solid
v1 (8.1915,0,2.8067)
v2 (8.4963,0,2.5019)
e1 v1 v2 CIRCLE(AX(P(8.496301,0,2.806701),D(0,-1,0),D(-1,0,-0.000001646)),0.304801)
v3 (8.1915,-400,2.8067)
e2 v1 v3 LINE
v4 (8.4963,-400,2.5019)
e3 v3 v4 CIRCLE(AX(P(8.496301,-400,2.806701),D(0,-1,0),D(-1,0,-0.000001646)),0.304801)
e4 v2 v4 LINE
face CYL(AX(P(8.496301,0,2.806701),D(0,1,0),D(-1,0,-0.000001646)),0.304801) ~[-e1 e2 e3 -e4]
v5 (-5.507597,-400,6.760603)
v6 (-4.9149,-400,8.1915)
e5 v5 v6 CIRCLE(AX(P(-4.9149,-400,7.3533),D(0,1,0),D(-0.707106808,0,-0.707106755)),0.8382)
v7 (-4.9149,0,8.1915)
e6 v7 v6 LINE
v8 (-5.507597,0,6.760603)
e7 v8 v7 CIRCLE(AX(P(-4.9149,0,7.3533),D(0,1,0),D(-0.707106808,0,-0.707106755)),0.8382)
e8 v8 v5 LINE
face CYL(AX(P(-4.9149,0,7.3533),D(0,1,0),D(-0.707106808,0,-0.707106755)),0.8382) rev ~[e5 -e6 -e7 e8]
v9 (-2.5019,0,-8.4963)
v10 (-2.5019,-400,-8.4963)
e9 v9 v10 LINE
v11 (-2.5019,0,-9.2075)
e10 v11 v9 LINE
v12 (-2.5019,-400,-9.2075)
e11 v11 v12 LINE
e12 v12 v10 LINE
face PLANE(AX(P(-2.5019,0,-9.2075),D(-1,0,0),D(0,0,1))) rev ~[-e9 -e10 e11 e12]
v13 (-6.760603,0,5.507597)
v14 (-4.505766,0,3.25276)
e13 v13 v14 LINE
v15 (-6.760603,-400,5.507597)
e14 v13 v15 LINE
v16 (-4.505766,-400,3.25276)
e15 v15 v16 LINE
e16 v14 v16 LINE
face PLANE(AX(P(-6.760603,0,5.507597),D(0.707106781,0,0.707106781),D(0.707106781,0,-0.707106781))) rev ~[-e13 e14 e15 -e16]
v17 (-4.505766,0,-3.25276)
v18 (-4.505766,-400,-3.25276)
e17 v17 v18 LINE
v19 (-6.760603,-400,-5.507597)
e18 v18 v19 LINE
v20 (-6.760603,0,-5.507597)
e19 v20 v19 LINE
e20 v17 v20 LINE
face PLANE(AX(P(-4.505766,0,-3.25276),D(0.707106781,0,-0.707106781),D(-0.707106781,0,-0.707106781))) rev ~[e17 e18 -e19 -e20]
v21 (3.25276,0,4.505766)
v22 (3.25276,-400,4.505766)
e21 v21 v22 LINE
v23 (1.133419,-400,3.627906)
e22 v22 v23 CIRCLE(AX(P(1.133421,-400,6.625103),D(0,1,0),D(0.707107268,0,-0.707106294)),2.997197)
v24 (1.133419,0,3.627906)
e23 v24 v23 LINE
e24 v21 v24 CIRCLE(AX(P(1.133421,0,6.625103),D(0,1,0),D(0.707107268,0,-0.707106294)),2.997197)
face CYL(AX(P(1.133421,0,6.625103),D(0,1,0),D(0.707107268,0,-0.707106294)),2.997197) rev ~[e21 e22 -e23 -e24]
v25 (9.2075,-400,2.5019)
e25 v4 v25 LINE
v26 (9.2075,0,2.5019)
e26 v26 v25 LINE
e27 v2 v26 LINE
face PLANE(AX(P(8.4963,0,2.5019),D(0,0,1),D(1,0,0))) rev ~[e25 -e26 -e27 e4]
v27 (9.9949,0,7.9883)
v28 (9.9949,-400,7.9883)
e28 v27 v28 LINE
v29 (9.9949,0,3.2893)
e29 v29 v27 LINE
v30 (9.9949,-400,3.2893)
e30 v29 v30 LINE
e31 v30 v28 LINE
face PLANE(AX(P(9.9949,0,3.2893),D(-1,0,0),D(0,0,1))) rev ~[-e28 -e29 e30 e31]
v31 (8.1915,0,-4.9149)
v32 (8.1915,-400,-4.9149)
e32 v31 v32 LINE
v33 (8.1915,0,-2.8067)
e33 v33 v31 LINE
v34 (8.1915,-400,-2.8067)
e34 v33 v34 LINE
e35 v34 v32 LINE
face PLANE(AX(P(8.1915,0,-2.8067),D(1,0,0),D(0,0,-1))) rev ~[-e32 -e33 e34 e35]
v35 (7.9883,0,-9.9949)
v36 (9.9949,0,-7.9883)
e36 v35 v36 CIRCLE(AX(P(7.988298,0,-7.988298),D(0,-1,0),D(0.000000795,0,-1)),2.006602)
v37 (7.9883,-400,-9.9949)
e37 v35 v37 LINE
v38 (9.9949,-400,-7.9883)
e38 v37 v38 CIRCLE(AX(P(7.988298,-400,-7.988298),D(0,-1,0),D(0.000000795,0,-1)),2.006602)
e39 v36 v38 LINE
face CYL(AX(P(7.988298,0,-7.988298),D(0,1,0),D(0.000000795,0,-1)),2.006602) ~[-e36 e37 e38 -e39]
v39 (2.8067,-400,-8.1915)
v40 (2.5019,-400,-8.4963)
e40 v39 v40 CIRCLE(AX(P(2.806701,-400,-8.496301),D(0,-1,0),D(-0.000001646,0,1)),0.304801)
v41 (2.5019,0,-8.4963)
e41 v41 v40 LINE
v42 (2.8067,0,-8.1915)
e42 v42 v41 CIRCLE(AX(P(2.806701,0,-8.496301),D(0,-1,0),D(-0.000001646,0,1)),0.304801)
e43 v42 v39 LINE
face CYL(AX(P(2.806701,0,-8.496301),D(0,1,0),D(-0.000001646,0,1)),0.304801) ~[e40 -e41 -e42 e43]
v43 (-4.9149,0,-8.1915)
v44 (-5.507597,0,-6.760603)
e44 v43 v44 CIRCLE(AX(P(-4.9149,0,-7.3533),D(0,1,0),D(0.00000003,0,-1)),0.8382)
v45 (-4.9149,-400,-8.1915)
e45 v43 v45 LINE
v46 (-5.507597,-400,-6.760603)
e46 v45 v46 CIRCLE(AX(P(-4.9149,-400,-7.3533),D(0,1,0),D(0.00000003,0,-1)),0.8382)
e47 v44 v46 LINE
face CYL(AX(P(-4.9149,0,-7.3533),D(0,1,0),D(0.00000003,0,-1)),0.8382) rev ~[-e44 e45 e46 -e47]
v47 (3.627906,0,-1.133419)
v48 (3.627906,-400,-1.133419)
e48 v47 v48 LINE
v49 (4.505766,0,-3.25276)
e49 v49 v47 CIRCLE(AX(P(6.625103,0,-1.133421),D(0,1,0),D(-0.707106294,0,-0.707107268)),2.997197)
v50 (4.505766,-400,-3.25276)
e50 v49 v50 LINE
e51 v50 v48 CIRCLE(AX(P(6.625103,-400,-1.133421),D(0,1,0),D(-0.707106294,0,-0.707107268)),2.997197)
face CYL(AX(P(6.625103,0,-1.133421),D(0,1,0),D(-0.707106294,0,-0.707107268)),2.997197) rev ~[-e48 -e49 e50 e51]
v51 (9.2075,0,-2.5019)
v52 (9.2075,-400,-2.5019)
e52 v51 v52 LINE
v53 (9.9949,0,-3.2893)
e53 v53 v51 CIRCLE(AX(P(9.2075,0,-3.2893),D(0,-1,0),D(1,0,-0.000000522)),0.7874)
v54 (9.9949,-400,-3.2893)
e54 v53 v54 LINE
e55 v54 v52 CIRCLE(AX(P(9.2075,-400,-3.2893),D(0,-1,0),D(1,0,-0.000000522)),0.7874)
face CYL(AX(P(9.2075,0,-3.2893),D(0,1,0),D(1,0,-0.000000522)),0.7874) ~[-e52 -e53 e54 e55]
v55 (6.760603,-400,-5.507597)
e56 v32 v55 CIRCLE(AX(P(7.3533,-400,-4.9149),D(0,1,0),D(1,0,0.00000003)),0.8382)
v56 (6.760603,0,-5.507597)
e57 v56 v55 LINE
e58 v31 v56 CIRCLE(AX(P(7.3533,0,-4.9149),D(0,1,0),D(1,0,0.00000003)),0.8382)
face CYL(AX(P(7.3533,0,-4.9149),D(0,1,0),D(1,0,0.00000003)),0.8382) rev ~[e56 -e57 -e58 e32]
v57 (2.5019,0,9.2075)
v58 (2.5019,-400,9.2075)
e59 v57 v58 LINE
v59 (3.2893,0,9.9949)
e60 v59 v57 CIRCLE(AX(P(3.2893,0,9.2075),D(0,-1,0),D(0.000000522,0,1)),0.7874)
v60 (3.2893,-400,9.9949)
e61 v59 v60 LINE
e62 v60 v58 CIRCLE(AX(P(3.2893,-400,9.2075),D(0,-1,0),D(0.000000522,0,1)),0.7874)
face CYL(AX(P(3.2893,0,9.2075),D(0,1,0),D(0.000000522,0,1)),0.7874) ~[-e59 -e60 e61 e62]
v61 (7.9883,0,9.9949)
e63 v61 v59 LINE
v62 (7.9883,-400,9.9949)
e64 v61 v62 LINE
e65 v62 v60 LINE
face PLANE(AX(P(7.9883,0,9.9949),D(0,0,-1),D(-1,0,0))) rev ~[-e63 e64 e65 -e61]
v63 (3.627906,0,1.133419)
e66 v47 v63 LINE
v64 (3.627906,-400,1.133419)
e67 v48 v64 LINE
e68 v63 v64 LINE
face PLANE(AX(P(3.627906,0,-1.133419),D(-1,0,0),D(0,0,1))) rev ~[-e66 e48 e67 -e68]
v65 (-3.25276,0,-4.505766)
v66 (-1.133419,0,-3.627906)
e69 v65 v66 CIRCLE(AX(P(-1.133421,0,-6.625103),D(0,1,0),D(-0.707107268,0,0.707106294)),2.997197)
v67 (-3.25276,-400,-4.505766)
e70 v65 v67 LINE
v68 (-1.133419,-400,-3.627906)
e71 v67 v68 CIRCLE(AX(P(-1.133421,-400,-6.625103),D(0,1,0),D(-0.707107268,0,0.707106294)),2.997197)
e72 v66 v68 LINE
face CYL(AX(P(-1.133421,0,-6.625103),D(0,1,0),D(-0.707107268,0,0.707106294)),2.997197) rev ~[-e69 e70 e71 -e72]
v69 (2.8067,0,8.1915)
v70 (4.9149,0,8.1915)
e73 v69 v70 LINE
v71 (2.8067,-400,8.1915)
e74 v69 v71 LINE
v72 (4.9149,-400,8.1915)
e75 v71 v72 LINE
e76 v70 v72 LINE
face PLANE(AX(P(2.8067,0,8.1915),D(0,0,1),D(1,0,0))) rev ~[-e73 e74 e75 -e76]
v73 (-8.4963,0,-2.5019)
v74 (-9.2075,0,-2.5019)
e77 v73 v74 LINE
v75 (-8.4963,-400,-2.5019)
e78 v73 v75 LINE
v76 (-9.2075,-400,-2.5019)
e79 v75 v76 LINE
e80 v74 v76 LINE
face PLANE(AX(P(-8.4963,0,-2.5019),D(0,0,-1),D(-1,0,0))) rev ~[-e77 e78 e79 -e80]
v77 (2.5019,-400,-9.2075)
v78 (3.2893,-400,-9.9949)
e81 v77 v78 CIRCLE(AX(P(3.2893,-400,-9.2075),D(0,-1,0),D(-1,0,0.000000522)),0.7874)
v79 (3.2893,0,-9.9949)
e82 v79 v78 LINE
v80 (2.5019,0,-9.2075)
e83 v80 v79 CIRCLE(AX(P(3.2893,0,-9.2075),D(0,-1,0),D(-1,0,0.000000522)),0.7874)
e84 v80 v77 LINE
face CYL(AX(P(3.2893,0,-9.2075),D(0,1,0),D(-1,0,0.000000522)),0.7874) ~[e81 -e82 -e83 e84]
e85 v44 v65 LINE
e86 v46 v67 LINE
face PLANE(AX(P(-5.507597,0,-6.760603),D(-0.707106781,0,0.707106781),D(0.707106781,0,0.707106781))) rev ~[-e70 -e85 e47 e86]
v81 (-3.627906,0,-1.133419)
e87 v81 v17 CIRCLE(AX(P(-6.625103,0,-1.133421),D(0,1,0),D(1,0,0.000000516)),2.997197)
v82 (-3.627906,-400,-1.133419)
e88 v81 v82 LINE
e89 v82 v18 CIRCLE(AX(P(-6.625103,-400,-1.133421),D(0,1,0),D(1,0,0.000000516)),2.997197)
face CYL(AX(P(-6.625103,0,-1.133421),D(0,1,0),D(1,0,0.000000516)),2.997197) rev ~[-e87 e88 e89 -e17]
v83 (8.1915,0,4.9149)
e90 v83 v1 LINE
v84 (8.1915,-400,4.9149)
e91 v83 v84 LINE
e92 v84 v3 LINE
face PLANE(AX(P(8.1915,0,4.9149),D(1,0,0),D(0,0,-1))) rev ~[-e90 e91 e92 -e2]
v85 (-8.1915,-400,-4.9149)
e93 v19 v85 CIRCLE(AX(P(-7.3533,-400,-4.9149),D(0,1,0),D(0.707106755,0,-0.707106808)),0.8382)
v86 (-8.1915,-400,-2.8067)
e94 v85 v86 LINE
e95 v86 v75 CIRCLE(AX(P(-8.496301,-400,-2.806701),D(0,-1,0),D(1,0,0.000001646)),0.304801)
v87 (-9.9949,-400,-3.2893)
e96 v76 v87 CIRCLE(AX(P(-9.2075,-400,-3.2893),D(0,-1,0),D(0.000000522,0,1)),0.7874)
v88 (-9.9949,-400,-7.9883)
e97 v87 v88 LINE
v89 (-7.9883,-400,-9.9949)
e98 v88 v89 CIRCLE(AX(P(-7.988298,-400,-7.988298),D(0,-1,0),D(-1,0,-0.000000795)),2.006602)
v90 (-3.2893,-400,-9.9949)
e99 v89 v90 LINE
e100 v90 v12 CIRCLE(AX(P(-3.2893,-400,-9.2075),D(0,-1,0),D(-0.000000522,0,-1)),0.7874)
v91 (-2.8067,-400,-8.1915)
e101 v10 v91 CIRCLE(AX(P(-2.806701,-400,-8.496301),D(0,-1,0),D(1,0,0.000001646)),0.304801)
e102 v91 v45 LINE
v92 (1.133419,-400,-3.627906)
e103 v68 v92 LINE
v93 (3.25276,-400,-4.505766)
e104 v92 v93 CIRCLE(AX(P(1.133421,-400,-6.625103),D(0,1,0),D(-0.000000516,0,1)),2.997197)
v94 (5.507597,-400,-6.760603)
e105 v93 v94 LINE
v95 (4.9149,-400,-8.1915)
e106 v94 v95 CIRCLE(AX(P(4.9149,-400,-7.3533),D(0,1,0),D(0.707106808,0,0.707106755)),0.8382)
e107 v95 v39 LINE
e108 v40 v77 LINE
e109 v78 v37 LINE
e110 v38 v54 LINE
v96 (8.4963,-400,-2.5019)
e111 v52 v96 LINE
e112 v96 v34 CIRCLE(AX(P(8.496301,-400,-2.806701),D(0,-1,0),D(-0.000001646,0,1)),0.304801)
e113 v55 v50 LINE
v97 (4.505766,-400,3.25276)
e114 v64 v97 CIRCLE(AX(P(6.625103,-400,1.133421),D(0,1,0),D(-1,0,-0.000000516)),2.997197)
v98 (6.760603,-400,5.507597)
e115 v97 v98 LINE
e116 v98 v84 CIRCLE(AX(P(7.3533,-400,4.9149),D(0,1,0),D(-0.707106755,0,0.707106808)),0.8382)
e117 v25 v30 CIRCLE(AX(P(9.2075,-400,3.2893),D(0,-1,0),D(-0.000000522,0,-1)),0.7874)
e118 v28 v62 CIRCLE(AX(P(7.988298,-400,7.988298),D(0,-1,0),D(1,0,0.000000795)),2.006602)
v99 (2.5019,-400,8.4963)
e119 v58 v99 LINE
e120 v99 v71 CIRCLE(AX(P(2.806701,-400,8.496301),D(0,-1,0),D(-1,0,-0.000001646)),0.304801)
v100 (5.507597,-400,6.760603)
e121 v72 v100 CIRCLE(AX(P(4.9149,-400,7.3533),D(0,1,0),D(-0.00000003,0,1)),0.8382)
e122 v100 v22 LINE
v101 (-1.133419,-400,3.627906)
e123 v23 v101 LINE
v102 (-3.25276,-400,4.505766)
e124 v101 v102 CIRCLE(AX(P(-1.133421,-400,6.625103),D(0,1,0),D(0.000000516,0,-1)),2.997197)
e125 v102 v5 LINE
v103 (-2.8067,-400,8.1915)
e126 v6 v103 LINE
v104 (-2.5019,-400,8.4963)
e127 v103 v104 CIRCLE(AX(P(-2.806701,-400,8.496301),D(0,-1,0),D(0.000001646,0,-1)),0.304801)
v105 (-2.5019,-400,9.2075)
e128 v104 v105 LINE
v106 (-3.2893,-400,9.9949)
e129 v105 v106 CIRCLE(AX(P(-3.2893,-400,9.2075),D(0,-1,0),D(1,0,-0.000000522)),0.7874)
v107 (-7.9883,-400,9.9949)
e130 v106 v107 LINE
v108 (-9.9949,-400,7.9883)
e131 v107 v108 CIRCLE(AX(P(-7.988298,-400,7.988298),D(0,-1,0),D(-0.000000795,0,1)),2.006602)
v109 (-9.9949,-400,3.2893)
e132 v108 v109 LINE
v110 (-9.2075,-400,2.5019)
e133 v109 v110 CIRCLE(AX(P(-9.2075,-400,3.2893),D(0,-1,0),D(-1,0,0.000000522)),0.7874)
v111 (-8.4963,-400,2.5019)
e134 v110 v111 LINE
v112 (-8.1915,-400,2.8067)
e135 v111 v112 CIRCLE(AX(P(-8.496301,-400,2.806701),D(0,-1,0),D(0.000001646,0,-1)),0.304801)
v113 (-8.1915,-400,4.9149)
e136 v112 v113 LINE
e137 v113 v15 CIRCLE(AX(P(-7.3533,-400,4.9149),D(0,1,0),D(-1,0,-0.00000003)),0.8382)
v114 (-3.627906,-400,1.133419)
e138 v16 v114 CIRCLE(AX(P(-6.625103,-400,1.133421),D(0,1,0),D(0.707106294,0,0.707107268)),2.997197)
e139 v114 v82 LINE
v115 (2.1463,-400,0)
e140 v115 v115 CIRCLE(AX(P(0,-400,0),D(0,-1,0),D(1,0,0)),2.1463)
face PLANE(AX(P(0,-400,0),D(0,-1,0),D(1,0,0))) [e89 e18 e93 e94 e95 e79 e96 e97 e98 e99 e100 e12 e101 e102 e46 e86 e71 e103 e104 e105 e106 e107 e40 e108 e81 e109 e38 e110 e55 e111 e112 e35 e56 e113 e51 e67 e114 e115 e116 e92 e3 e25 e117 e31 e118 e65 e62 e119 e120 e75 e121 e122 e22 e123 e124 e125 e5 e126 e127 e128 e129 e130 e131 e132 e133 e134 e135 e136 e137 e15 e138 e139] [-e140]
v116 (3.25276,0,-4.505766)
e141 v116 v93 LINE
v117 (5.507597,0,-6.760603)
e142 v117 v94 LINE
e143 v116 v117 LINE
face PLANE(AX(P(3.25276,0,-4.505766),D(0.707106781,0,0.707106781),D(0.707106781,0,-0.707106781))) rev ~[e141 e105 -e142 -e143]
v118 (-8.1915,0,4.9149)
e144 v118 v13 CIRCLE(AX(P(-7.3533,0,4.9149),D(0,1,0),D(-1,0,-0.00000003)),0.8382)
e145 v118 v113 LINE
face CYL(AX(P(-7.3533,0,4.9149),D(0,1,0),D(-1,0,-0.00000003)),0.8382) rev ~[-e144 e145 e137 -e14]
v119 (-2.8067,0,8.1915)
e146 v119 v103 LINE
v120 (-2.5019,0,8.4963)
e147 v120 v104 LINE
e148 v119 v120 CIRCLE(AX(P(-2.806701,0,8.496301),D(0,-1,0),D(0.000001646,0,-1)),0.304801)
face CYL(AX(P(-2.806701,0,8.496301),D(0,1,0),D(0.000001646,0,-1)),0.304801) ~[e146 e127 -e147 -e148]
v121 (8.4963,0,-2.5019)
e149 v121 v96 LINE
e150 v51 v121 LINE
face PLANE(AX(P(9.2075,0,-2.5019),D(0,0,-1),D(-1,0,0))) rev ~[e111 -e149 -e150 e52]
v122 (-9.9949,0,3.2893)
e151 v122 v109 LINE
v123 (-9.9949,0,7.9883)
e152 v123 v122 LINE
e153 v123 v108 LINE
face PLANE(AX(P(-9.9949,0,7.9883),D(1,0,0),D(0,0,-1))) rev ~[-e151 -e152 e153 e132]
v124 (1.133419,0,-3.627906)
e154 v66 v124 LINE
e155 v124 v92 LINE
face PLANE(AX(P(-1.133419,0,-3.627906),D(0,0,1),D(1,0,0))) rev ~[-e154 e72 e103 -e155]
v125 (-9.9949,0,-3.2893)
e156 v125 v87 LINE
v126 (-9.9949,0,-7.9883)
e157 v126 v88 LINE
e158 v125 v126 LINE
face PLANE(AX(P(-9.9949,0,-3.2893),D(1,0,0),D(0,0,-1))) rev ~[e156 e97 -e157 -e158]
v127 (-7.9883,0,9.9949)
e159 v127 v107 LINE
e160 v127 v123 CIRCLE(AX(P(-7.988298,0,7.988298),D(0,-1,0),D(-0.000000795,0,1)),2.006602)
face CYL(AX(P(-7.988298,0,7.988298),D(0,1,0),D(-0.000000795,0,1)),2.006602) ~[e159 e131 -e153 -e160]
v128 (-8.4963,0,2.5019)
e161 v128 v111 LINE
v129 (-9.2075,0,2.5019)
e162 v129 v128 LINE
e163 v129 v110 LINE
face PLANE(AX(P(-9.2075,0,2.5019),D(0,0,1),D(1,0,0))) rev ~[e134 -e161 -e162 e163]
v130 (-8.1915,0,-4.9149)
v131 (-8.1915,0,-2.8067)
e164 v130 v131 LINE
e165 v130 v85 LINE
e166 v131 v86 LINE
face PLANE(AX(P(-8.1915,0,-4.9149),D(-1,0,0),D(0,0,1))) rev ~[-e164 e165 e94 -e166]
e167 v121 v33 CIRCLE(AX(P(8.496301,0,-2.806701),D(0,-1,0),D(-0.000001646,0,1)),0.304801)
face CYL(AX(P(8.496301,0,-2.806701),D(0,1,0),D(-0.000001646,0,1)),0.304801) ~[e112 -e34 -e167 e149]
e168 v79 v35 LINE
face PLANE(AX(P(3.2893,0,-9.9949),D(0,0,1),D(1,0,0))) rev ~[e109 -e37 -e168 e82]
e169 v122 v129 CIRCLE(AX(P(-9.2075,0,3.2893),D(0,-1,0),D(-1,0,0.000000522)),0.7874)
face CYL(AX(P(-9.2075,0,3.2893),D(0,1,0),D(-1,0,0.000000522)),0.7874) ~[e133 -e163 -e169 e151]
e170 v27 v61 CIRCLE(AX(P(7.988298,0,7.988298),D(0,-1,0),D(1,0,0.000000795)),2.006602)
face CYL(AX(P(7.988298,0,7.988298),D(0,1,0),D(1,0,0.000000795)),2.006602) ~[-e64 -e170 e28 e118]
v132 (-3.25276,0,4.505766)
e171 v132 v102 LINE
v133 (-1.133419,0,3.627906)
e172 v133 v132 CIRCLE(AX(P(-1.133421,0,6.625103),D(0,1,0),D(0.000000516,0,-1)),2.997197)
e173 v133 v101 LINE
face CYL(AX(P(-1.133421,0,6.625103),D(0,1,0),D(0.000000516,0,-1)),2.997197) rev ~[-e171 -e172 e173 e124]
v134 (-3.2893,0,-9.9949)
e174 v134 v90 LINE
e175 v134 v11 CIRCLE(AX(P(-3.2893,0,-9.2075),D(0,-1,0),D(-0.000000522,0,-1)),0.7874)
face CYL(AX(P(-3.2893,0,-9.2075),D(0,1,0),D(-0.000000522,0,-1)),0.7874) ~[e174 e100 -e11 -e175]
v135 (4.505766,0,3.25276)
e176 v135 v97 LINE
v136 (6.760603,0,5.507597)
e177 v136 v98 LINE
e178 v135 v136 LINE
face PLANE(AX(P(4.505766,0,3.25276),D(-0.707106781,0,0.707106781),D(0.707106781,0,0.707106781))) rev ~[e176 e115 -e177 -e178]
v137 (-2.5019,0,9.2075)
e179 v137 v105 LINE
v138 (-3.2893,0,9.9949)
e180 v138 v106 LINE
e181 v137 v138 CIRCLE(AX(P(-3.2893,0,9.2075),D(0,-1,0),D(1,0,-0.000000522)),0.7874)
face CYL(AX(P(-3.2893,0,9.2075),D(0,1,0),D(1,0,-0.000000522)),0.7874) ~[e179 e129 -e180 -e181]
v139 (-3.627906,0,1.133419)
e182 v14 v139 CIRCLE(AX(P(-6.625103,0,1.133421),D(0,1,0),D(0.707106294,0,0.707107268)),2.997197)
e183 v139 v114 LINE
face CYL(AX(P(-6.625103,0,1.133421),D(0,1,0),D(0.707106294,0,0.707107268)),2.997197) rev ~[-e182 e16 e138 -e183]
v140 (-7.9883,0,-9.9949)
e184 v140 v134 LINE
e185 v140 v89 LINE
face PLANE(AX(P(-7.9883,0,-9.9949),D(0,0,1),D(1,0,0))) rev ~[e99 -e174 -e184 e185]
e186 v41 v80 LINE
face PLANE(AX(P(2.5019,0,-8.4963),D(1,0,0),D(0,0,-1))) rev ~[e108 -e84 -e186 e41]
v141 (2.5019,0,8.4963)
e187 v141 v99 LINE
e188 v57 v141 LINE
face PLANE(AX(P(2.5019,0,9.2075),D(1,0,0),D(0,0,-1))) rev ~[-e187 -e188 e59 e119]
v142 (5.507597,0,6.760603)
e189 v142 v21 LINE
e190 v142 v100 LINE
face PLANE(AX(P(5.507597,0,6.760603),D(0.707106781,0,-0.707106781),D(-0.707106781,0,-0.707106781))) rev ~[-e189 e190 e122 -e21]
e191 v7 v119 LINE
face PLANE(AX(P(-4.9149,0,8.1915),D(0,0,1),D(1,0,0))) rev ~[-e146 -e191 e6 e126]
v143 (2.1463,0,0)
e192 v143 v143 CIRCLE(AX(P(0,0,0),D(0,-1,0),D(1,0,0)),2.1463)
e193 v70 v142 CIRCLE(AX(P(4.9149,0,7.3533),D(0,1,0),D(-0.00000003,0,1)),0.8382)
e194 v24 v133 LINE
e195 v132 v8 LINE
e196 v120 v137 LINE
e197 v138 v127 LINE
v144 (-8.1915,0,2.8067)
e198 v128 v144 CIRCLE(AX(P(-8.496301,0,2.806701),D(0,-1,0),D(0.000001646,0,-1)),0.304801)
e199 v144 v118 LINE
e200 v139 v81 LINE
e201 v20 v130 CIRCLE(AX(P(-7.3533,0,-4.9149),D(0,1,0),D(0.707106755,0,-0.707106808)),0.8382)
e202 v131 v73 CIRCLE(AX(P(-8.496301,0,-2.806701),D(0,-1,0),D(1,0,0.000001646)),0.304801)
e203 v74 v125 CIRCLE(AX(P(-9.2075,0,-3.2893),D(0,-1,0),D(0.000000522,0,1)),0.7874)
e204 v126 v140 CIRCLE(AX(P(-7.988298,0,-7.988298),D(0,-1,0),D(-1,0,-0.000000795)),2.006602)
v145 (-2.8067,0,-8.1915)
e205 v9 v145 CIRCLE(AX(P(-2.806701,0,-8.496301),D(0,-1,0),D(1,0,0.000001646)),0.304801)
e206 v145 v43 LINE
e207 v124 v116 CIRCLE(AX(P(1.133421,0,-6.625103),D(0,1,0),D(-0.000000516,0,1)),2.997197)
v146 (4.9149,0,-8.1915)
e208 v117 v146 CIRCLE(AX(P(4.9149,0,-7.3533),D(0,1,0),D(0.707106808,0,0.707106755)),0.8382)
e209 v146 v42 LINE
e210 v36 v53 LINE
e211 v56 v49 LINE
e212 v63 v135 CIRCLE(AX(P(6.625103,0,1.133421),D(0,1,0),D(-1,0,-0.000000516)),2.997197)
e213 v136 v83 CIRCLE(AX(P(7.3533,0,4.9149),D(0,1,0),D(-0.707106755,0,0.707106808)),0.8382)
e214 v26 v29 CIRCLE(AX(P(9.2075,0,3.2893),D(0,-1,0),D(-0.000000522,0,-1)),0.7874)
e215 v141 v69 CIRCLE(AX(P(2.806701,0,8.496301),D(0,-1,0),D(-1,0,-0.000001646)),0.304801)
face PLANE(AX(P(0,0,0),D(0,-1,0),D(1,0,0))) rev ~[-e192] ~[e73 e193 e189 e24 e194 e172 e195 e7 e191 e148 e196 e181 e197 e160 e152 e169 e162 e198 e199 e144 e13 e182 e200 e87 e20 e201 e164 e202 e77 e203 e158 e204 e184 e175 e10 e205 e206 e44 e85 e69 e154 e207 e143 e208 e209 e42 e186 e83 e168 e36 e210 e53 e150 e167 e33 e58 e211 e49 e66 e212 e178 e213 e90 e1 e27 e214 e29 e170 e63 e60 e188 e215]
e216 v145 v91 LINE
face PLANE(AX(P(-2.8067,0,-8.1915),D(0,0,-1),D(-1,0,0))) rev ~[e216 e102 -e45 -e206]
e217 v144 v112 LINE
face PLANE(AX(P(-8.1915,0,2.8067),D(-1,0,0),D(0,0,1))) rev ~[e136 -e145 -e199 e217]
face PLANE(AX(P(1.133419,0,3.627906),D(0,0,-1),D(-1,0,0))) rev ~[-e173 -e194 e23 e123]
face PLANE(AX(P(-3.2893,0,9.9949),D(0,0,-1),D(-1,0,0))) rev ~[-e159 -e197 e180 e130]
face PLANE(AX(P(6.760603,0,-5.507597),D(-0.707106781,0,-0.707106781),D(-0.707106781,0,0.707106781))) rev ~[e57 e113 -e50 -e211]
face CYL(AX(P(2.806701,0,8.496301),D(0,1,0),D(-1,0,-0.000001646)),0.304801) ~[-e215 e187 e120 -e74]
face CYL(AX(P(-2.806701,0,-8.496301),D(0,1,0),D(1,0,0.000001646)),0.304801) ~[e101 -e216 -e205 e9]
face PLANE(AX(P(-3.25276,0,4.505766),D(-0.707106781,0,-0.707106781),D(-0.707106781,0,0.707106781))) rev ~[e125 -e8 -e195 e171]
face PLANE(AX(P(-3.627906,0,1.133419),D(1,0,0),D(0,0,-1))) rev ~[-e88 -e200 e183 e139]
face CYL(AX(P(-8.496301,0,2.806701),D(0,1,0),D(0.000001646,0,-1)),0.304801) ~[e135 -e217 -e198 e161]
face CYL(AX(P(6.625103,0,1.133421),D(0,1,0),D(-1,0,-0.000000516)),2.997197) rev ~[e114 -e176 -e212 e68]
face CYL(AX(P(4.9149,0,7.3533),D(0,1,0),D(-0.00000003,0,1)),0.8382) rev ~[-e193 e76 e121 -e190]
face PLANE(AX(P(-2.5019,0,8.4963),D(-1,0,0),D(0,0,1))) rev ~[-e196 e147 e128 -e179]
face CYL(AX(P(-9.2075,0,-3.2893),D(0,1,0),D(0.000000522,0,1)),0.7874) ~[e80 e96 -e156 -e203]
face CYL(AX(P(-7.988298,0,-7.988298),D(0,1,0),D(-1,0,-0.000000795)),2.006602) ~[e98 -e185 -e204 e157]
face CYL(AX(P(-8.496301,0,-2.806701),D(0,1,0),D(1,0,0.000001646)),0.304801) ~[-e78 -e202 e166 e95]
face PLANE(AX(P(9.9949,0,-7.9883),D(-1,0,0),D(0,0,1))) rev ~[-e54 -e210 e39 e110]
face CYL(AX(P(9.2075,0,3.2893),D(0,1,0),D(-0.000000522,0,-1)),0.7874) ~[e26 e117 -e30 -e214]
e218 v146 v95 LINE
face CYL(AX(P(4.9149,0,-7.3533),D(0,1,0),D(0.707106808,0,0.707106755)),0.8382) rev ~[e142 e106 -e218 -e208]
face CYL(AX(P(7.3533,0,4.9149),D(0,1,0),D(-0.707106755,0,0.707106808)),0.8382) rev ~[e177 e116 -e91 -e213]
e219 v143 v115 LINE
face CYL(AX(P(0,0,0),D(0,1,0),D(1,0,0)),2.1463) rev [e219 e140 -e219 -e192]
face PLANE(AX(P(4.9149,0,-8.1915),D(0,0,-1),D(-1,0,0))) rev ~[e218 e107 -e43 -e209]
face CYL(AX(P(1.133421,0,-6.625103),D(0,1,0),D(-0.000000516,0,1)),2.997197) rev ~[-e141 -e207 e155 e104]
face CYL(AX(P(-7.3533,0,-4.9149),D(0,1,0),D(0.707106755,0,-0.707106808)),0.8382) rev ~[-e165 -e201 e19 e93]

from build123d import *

# Parameters (mm, degrees)
F0_R     = 2.1463
F1_DEPTH = 400


with BuildPart() as f1:
    # F0 (on Front) → F1 (new body)
    with BuildSketch(Plane.XZ):
        with BuildLine():
            Line((-3.2893, 9.9949), (-7.9883, 9.9949))
            ThreePointArc((-7.9883, 9.9949), (-9.40718, 9.40718), (-9.9949, 7.9883))
            Line((-9.9949, 7.9883), (-9.9949, 3.2893))
            ThreePointArc((-9.9949, 3.2893), (-9.764276, 2.732524), (-9.2075, 2.5019))
            Line((-9.2075, 2.5019), (-8.4963, 2.5019))
            ThreePointArc((-8.4963, 2.5019), (-8.280774, 2.591174), (-8.1915, 2.8067))
            Line((-8.1915, 2.8067), (-8.1915, 4.9149))
            ThreePointArc((-8.1915, 4.9149), (-7.674065, 5.689296), (-6.760603, 5.507597))
            Line((-6.760603, 5.507597), (-4.505766, 3.25276))
            ThreePointArc((-4.505766, 3.25276), (-3.856054, 2.280398), (-3.627906, 1.133419))
            Line((-3.627906, 1.133419), (-3.627906, -1.133419))
            ThreePointArc((-3.627906, -1.133419), (-3.856054, -2.280398), (-4.505766, -3.25276))
            Line((-4.505766, -3.25276), (-6.760603, -5.507597))
            ThreePointArc((-6.760603, -5.507597), (-7.674065, -5.689296), (-8.1915, -4.9149))
            Line((-8.1915, -4.9149), (-8.1915, -2.8067))
            ThreePointArc((-8.1915, -2.8067), (-8.280774, -2.591174), (-8.4963, -2.5019))
            Line((-8.4963, -2.5019), (-9.2075, -2.5019))
            ThreePointArc((-9.2075, -2.5019), (-9.764276, -2.732524), (-9.9949, -3.2893))
            Line((-9.9949, -3.2893), (-9.9949, -7.9883))
            ThreePointArc((-9.9949, -7.9883), (-9.40718, -9.40718), (-7.9883, -9.9949))
            Line((-7.9883, -9.9949), (-3.2893, -9.9949))
            ThreePointArc((-3.2893, -9.9949), (-2.732524, -9.764276), (-2.5019, -9.2075))
            Line((-2.5019, -9.2075), (-2.5019, -8.4963))
            ThreePointArc((-2.5019, -8.4963), (-2.591174, -8.280774), (-2.8067, -8.1915))
            Line((-2.8067, -8.1915), (-4.9149, -8.1915))
            ThreePointArc((-4.9149, -8.1915), (-5.689296, -7.674065), (-5.507597, -6.760603))
            Line((-5.507597, -6.760603), (-3.25276, -4.505766))
            ThreePointArc((-3.25276, -4.505766), (-2.280398, -3.856054), (-1.133419, -3.627906))
            Line((-1.133419, -3.627906), (1.133419, -3.627906))
            ThreePointArc((1.133419, -3.627906), (2.280398, -3.856054), (3.25276, -4.505766))
            Line((3.25276, -4.505766), (5.507597, -6.760603))
            ThreePointArc((5.507597, -6.760603), (5.689296, -7.674065), (4.9149, -8.1915))
            Line((4.9149, -8.1915), (2.8067, -8.1915))
            ThreePointArc((2.8067, -8.1915), (2.591174, -8.280774), (2.5019, -8.4963))
            Line((2.5019, -8.4963), (2.5019, -9.2075))
            ThreePointArc((2.5019, -9.2075), (2.732524, -9.764276), (3.2893, -9.9949))
            Line((3.2893, -9.9949), (7.9883, -9.9949))
            ThreePointArc((7.9883, -9.9949), (9.40718, -9.40718), (9.9949, -7.9883))
            Line((9.9949, -7.9883), (9.9949, -3.2893))
            ThreePointArc((9.9949, -3.2893), (9.764276, -2.732524), (9.2075, -2.5019))
            Line((9.2075, -2.5019), (8.4963, -2.5019))
            ThreePointArc((8.4963, -2.5019), (8.280774, -2.591174), (8.1915, -2.8067))
            Line((8.1915, -2.8067), (8.1915, -4.9149))
            ThreePointArc((8.1915, -4.9149), (7.674065, -5.689296), (6.760603, -5.507597))
            Line((6.760603, -5.507597), (4.505766, -3.25276))
            ThreePointArc((4.505766, -3.25276), (3.856054, -2.280398), (3.627906, -1.133419))
            Line((3.627906, -1.133419), (3.627906, 1.133419))
            ThreePointArc((3.627906, 1.133419), (3.856054, 2.280398), (4.505766, 3.25276))
            Line((4.505766, 3.25276), (6.760603, 5.507597))
            ThreePointArc((6.760603, 5.507597), (7.674065, 5.689296), (8.1915, 4.9149))
            Line((8.1915, 4.9149), (8.1915, 2.8067))
            ThreePointArc((8.1915, 2.8067), (8.280774, 2.591174), (8.4963, 2.5019))
            Line((8.4963, 2.5019), (9.2075, 2.5019))
            ThreePointArc((9.2075, 2.5019), (9.764276, 2.732524), (9.9949, 3.2893))
            Line((9.9949, 3.2893), (9.9949, 7.9883))
            ThreePointArc((9.9949, 7.9883), (9.40718, 9.40718), (7.9883, 9.9949))
            Line((7.9883, 9.9949), (3.2893, 9.9949))
            ThreePointArc((3.2893, 9.9949), (2.732524, 9.764276), (2.5019, 9.2075))
            Line((2.5019, 9.2075), (2.5019, 8.4963))
            ThreePointArc((2.5019, 8.4963), (2.591174, 8.280774), (2.8067, 8.1915))
            Line((2.8067, 8.1915), (4.9149, 8.1915))
            ThreePointArc((4.9149, 8.1915), (5.689296, 7.674065), (5.507597, 6.760603))
            Line((5.507597, 6.760603), (3.25276, 4.505766))
            ThreePointArc((3.25276, 4.505766), (2.280398, 3.856054), (1.133419, 3.627906))
            Line((1.133419, 3.627906), (-1.133419, 3.627906))
            ThreePointArc((-1.133419, 3.627906), (-2.280398, 3.856054), (-3.25276, 4.505766))
            Line((-3.25276, 4.505766), (-5.507597, 6.760603))
            ThreePointArc((-5.507597, 6.760603), (-5.689296, 7.674065), (-4.9149, 8.1915))
            Line((-4.9149, 8.1915), (-2.8067, 8.1915))
            ThreePointArc((-2.8067, 8.1915), (-2.591174, 8.280774), (-2.5019, 8.4963))
            Line((-2.5019, 8.4963), (-2.5019, 9.2075))
            ThreePointArc((-2.5019, 9.2075), (-2.732524, 9.764276), (-3.2893, 9.9949))
        make_face()
        Circle(F0_R, mode=Mode.SUBTRACT)
    extrude(amount=F1_DEPTH)


solid = f1.part
